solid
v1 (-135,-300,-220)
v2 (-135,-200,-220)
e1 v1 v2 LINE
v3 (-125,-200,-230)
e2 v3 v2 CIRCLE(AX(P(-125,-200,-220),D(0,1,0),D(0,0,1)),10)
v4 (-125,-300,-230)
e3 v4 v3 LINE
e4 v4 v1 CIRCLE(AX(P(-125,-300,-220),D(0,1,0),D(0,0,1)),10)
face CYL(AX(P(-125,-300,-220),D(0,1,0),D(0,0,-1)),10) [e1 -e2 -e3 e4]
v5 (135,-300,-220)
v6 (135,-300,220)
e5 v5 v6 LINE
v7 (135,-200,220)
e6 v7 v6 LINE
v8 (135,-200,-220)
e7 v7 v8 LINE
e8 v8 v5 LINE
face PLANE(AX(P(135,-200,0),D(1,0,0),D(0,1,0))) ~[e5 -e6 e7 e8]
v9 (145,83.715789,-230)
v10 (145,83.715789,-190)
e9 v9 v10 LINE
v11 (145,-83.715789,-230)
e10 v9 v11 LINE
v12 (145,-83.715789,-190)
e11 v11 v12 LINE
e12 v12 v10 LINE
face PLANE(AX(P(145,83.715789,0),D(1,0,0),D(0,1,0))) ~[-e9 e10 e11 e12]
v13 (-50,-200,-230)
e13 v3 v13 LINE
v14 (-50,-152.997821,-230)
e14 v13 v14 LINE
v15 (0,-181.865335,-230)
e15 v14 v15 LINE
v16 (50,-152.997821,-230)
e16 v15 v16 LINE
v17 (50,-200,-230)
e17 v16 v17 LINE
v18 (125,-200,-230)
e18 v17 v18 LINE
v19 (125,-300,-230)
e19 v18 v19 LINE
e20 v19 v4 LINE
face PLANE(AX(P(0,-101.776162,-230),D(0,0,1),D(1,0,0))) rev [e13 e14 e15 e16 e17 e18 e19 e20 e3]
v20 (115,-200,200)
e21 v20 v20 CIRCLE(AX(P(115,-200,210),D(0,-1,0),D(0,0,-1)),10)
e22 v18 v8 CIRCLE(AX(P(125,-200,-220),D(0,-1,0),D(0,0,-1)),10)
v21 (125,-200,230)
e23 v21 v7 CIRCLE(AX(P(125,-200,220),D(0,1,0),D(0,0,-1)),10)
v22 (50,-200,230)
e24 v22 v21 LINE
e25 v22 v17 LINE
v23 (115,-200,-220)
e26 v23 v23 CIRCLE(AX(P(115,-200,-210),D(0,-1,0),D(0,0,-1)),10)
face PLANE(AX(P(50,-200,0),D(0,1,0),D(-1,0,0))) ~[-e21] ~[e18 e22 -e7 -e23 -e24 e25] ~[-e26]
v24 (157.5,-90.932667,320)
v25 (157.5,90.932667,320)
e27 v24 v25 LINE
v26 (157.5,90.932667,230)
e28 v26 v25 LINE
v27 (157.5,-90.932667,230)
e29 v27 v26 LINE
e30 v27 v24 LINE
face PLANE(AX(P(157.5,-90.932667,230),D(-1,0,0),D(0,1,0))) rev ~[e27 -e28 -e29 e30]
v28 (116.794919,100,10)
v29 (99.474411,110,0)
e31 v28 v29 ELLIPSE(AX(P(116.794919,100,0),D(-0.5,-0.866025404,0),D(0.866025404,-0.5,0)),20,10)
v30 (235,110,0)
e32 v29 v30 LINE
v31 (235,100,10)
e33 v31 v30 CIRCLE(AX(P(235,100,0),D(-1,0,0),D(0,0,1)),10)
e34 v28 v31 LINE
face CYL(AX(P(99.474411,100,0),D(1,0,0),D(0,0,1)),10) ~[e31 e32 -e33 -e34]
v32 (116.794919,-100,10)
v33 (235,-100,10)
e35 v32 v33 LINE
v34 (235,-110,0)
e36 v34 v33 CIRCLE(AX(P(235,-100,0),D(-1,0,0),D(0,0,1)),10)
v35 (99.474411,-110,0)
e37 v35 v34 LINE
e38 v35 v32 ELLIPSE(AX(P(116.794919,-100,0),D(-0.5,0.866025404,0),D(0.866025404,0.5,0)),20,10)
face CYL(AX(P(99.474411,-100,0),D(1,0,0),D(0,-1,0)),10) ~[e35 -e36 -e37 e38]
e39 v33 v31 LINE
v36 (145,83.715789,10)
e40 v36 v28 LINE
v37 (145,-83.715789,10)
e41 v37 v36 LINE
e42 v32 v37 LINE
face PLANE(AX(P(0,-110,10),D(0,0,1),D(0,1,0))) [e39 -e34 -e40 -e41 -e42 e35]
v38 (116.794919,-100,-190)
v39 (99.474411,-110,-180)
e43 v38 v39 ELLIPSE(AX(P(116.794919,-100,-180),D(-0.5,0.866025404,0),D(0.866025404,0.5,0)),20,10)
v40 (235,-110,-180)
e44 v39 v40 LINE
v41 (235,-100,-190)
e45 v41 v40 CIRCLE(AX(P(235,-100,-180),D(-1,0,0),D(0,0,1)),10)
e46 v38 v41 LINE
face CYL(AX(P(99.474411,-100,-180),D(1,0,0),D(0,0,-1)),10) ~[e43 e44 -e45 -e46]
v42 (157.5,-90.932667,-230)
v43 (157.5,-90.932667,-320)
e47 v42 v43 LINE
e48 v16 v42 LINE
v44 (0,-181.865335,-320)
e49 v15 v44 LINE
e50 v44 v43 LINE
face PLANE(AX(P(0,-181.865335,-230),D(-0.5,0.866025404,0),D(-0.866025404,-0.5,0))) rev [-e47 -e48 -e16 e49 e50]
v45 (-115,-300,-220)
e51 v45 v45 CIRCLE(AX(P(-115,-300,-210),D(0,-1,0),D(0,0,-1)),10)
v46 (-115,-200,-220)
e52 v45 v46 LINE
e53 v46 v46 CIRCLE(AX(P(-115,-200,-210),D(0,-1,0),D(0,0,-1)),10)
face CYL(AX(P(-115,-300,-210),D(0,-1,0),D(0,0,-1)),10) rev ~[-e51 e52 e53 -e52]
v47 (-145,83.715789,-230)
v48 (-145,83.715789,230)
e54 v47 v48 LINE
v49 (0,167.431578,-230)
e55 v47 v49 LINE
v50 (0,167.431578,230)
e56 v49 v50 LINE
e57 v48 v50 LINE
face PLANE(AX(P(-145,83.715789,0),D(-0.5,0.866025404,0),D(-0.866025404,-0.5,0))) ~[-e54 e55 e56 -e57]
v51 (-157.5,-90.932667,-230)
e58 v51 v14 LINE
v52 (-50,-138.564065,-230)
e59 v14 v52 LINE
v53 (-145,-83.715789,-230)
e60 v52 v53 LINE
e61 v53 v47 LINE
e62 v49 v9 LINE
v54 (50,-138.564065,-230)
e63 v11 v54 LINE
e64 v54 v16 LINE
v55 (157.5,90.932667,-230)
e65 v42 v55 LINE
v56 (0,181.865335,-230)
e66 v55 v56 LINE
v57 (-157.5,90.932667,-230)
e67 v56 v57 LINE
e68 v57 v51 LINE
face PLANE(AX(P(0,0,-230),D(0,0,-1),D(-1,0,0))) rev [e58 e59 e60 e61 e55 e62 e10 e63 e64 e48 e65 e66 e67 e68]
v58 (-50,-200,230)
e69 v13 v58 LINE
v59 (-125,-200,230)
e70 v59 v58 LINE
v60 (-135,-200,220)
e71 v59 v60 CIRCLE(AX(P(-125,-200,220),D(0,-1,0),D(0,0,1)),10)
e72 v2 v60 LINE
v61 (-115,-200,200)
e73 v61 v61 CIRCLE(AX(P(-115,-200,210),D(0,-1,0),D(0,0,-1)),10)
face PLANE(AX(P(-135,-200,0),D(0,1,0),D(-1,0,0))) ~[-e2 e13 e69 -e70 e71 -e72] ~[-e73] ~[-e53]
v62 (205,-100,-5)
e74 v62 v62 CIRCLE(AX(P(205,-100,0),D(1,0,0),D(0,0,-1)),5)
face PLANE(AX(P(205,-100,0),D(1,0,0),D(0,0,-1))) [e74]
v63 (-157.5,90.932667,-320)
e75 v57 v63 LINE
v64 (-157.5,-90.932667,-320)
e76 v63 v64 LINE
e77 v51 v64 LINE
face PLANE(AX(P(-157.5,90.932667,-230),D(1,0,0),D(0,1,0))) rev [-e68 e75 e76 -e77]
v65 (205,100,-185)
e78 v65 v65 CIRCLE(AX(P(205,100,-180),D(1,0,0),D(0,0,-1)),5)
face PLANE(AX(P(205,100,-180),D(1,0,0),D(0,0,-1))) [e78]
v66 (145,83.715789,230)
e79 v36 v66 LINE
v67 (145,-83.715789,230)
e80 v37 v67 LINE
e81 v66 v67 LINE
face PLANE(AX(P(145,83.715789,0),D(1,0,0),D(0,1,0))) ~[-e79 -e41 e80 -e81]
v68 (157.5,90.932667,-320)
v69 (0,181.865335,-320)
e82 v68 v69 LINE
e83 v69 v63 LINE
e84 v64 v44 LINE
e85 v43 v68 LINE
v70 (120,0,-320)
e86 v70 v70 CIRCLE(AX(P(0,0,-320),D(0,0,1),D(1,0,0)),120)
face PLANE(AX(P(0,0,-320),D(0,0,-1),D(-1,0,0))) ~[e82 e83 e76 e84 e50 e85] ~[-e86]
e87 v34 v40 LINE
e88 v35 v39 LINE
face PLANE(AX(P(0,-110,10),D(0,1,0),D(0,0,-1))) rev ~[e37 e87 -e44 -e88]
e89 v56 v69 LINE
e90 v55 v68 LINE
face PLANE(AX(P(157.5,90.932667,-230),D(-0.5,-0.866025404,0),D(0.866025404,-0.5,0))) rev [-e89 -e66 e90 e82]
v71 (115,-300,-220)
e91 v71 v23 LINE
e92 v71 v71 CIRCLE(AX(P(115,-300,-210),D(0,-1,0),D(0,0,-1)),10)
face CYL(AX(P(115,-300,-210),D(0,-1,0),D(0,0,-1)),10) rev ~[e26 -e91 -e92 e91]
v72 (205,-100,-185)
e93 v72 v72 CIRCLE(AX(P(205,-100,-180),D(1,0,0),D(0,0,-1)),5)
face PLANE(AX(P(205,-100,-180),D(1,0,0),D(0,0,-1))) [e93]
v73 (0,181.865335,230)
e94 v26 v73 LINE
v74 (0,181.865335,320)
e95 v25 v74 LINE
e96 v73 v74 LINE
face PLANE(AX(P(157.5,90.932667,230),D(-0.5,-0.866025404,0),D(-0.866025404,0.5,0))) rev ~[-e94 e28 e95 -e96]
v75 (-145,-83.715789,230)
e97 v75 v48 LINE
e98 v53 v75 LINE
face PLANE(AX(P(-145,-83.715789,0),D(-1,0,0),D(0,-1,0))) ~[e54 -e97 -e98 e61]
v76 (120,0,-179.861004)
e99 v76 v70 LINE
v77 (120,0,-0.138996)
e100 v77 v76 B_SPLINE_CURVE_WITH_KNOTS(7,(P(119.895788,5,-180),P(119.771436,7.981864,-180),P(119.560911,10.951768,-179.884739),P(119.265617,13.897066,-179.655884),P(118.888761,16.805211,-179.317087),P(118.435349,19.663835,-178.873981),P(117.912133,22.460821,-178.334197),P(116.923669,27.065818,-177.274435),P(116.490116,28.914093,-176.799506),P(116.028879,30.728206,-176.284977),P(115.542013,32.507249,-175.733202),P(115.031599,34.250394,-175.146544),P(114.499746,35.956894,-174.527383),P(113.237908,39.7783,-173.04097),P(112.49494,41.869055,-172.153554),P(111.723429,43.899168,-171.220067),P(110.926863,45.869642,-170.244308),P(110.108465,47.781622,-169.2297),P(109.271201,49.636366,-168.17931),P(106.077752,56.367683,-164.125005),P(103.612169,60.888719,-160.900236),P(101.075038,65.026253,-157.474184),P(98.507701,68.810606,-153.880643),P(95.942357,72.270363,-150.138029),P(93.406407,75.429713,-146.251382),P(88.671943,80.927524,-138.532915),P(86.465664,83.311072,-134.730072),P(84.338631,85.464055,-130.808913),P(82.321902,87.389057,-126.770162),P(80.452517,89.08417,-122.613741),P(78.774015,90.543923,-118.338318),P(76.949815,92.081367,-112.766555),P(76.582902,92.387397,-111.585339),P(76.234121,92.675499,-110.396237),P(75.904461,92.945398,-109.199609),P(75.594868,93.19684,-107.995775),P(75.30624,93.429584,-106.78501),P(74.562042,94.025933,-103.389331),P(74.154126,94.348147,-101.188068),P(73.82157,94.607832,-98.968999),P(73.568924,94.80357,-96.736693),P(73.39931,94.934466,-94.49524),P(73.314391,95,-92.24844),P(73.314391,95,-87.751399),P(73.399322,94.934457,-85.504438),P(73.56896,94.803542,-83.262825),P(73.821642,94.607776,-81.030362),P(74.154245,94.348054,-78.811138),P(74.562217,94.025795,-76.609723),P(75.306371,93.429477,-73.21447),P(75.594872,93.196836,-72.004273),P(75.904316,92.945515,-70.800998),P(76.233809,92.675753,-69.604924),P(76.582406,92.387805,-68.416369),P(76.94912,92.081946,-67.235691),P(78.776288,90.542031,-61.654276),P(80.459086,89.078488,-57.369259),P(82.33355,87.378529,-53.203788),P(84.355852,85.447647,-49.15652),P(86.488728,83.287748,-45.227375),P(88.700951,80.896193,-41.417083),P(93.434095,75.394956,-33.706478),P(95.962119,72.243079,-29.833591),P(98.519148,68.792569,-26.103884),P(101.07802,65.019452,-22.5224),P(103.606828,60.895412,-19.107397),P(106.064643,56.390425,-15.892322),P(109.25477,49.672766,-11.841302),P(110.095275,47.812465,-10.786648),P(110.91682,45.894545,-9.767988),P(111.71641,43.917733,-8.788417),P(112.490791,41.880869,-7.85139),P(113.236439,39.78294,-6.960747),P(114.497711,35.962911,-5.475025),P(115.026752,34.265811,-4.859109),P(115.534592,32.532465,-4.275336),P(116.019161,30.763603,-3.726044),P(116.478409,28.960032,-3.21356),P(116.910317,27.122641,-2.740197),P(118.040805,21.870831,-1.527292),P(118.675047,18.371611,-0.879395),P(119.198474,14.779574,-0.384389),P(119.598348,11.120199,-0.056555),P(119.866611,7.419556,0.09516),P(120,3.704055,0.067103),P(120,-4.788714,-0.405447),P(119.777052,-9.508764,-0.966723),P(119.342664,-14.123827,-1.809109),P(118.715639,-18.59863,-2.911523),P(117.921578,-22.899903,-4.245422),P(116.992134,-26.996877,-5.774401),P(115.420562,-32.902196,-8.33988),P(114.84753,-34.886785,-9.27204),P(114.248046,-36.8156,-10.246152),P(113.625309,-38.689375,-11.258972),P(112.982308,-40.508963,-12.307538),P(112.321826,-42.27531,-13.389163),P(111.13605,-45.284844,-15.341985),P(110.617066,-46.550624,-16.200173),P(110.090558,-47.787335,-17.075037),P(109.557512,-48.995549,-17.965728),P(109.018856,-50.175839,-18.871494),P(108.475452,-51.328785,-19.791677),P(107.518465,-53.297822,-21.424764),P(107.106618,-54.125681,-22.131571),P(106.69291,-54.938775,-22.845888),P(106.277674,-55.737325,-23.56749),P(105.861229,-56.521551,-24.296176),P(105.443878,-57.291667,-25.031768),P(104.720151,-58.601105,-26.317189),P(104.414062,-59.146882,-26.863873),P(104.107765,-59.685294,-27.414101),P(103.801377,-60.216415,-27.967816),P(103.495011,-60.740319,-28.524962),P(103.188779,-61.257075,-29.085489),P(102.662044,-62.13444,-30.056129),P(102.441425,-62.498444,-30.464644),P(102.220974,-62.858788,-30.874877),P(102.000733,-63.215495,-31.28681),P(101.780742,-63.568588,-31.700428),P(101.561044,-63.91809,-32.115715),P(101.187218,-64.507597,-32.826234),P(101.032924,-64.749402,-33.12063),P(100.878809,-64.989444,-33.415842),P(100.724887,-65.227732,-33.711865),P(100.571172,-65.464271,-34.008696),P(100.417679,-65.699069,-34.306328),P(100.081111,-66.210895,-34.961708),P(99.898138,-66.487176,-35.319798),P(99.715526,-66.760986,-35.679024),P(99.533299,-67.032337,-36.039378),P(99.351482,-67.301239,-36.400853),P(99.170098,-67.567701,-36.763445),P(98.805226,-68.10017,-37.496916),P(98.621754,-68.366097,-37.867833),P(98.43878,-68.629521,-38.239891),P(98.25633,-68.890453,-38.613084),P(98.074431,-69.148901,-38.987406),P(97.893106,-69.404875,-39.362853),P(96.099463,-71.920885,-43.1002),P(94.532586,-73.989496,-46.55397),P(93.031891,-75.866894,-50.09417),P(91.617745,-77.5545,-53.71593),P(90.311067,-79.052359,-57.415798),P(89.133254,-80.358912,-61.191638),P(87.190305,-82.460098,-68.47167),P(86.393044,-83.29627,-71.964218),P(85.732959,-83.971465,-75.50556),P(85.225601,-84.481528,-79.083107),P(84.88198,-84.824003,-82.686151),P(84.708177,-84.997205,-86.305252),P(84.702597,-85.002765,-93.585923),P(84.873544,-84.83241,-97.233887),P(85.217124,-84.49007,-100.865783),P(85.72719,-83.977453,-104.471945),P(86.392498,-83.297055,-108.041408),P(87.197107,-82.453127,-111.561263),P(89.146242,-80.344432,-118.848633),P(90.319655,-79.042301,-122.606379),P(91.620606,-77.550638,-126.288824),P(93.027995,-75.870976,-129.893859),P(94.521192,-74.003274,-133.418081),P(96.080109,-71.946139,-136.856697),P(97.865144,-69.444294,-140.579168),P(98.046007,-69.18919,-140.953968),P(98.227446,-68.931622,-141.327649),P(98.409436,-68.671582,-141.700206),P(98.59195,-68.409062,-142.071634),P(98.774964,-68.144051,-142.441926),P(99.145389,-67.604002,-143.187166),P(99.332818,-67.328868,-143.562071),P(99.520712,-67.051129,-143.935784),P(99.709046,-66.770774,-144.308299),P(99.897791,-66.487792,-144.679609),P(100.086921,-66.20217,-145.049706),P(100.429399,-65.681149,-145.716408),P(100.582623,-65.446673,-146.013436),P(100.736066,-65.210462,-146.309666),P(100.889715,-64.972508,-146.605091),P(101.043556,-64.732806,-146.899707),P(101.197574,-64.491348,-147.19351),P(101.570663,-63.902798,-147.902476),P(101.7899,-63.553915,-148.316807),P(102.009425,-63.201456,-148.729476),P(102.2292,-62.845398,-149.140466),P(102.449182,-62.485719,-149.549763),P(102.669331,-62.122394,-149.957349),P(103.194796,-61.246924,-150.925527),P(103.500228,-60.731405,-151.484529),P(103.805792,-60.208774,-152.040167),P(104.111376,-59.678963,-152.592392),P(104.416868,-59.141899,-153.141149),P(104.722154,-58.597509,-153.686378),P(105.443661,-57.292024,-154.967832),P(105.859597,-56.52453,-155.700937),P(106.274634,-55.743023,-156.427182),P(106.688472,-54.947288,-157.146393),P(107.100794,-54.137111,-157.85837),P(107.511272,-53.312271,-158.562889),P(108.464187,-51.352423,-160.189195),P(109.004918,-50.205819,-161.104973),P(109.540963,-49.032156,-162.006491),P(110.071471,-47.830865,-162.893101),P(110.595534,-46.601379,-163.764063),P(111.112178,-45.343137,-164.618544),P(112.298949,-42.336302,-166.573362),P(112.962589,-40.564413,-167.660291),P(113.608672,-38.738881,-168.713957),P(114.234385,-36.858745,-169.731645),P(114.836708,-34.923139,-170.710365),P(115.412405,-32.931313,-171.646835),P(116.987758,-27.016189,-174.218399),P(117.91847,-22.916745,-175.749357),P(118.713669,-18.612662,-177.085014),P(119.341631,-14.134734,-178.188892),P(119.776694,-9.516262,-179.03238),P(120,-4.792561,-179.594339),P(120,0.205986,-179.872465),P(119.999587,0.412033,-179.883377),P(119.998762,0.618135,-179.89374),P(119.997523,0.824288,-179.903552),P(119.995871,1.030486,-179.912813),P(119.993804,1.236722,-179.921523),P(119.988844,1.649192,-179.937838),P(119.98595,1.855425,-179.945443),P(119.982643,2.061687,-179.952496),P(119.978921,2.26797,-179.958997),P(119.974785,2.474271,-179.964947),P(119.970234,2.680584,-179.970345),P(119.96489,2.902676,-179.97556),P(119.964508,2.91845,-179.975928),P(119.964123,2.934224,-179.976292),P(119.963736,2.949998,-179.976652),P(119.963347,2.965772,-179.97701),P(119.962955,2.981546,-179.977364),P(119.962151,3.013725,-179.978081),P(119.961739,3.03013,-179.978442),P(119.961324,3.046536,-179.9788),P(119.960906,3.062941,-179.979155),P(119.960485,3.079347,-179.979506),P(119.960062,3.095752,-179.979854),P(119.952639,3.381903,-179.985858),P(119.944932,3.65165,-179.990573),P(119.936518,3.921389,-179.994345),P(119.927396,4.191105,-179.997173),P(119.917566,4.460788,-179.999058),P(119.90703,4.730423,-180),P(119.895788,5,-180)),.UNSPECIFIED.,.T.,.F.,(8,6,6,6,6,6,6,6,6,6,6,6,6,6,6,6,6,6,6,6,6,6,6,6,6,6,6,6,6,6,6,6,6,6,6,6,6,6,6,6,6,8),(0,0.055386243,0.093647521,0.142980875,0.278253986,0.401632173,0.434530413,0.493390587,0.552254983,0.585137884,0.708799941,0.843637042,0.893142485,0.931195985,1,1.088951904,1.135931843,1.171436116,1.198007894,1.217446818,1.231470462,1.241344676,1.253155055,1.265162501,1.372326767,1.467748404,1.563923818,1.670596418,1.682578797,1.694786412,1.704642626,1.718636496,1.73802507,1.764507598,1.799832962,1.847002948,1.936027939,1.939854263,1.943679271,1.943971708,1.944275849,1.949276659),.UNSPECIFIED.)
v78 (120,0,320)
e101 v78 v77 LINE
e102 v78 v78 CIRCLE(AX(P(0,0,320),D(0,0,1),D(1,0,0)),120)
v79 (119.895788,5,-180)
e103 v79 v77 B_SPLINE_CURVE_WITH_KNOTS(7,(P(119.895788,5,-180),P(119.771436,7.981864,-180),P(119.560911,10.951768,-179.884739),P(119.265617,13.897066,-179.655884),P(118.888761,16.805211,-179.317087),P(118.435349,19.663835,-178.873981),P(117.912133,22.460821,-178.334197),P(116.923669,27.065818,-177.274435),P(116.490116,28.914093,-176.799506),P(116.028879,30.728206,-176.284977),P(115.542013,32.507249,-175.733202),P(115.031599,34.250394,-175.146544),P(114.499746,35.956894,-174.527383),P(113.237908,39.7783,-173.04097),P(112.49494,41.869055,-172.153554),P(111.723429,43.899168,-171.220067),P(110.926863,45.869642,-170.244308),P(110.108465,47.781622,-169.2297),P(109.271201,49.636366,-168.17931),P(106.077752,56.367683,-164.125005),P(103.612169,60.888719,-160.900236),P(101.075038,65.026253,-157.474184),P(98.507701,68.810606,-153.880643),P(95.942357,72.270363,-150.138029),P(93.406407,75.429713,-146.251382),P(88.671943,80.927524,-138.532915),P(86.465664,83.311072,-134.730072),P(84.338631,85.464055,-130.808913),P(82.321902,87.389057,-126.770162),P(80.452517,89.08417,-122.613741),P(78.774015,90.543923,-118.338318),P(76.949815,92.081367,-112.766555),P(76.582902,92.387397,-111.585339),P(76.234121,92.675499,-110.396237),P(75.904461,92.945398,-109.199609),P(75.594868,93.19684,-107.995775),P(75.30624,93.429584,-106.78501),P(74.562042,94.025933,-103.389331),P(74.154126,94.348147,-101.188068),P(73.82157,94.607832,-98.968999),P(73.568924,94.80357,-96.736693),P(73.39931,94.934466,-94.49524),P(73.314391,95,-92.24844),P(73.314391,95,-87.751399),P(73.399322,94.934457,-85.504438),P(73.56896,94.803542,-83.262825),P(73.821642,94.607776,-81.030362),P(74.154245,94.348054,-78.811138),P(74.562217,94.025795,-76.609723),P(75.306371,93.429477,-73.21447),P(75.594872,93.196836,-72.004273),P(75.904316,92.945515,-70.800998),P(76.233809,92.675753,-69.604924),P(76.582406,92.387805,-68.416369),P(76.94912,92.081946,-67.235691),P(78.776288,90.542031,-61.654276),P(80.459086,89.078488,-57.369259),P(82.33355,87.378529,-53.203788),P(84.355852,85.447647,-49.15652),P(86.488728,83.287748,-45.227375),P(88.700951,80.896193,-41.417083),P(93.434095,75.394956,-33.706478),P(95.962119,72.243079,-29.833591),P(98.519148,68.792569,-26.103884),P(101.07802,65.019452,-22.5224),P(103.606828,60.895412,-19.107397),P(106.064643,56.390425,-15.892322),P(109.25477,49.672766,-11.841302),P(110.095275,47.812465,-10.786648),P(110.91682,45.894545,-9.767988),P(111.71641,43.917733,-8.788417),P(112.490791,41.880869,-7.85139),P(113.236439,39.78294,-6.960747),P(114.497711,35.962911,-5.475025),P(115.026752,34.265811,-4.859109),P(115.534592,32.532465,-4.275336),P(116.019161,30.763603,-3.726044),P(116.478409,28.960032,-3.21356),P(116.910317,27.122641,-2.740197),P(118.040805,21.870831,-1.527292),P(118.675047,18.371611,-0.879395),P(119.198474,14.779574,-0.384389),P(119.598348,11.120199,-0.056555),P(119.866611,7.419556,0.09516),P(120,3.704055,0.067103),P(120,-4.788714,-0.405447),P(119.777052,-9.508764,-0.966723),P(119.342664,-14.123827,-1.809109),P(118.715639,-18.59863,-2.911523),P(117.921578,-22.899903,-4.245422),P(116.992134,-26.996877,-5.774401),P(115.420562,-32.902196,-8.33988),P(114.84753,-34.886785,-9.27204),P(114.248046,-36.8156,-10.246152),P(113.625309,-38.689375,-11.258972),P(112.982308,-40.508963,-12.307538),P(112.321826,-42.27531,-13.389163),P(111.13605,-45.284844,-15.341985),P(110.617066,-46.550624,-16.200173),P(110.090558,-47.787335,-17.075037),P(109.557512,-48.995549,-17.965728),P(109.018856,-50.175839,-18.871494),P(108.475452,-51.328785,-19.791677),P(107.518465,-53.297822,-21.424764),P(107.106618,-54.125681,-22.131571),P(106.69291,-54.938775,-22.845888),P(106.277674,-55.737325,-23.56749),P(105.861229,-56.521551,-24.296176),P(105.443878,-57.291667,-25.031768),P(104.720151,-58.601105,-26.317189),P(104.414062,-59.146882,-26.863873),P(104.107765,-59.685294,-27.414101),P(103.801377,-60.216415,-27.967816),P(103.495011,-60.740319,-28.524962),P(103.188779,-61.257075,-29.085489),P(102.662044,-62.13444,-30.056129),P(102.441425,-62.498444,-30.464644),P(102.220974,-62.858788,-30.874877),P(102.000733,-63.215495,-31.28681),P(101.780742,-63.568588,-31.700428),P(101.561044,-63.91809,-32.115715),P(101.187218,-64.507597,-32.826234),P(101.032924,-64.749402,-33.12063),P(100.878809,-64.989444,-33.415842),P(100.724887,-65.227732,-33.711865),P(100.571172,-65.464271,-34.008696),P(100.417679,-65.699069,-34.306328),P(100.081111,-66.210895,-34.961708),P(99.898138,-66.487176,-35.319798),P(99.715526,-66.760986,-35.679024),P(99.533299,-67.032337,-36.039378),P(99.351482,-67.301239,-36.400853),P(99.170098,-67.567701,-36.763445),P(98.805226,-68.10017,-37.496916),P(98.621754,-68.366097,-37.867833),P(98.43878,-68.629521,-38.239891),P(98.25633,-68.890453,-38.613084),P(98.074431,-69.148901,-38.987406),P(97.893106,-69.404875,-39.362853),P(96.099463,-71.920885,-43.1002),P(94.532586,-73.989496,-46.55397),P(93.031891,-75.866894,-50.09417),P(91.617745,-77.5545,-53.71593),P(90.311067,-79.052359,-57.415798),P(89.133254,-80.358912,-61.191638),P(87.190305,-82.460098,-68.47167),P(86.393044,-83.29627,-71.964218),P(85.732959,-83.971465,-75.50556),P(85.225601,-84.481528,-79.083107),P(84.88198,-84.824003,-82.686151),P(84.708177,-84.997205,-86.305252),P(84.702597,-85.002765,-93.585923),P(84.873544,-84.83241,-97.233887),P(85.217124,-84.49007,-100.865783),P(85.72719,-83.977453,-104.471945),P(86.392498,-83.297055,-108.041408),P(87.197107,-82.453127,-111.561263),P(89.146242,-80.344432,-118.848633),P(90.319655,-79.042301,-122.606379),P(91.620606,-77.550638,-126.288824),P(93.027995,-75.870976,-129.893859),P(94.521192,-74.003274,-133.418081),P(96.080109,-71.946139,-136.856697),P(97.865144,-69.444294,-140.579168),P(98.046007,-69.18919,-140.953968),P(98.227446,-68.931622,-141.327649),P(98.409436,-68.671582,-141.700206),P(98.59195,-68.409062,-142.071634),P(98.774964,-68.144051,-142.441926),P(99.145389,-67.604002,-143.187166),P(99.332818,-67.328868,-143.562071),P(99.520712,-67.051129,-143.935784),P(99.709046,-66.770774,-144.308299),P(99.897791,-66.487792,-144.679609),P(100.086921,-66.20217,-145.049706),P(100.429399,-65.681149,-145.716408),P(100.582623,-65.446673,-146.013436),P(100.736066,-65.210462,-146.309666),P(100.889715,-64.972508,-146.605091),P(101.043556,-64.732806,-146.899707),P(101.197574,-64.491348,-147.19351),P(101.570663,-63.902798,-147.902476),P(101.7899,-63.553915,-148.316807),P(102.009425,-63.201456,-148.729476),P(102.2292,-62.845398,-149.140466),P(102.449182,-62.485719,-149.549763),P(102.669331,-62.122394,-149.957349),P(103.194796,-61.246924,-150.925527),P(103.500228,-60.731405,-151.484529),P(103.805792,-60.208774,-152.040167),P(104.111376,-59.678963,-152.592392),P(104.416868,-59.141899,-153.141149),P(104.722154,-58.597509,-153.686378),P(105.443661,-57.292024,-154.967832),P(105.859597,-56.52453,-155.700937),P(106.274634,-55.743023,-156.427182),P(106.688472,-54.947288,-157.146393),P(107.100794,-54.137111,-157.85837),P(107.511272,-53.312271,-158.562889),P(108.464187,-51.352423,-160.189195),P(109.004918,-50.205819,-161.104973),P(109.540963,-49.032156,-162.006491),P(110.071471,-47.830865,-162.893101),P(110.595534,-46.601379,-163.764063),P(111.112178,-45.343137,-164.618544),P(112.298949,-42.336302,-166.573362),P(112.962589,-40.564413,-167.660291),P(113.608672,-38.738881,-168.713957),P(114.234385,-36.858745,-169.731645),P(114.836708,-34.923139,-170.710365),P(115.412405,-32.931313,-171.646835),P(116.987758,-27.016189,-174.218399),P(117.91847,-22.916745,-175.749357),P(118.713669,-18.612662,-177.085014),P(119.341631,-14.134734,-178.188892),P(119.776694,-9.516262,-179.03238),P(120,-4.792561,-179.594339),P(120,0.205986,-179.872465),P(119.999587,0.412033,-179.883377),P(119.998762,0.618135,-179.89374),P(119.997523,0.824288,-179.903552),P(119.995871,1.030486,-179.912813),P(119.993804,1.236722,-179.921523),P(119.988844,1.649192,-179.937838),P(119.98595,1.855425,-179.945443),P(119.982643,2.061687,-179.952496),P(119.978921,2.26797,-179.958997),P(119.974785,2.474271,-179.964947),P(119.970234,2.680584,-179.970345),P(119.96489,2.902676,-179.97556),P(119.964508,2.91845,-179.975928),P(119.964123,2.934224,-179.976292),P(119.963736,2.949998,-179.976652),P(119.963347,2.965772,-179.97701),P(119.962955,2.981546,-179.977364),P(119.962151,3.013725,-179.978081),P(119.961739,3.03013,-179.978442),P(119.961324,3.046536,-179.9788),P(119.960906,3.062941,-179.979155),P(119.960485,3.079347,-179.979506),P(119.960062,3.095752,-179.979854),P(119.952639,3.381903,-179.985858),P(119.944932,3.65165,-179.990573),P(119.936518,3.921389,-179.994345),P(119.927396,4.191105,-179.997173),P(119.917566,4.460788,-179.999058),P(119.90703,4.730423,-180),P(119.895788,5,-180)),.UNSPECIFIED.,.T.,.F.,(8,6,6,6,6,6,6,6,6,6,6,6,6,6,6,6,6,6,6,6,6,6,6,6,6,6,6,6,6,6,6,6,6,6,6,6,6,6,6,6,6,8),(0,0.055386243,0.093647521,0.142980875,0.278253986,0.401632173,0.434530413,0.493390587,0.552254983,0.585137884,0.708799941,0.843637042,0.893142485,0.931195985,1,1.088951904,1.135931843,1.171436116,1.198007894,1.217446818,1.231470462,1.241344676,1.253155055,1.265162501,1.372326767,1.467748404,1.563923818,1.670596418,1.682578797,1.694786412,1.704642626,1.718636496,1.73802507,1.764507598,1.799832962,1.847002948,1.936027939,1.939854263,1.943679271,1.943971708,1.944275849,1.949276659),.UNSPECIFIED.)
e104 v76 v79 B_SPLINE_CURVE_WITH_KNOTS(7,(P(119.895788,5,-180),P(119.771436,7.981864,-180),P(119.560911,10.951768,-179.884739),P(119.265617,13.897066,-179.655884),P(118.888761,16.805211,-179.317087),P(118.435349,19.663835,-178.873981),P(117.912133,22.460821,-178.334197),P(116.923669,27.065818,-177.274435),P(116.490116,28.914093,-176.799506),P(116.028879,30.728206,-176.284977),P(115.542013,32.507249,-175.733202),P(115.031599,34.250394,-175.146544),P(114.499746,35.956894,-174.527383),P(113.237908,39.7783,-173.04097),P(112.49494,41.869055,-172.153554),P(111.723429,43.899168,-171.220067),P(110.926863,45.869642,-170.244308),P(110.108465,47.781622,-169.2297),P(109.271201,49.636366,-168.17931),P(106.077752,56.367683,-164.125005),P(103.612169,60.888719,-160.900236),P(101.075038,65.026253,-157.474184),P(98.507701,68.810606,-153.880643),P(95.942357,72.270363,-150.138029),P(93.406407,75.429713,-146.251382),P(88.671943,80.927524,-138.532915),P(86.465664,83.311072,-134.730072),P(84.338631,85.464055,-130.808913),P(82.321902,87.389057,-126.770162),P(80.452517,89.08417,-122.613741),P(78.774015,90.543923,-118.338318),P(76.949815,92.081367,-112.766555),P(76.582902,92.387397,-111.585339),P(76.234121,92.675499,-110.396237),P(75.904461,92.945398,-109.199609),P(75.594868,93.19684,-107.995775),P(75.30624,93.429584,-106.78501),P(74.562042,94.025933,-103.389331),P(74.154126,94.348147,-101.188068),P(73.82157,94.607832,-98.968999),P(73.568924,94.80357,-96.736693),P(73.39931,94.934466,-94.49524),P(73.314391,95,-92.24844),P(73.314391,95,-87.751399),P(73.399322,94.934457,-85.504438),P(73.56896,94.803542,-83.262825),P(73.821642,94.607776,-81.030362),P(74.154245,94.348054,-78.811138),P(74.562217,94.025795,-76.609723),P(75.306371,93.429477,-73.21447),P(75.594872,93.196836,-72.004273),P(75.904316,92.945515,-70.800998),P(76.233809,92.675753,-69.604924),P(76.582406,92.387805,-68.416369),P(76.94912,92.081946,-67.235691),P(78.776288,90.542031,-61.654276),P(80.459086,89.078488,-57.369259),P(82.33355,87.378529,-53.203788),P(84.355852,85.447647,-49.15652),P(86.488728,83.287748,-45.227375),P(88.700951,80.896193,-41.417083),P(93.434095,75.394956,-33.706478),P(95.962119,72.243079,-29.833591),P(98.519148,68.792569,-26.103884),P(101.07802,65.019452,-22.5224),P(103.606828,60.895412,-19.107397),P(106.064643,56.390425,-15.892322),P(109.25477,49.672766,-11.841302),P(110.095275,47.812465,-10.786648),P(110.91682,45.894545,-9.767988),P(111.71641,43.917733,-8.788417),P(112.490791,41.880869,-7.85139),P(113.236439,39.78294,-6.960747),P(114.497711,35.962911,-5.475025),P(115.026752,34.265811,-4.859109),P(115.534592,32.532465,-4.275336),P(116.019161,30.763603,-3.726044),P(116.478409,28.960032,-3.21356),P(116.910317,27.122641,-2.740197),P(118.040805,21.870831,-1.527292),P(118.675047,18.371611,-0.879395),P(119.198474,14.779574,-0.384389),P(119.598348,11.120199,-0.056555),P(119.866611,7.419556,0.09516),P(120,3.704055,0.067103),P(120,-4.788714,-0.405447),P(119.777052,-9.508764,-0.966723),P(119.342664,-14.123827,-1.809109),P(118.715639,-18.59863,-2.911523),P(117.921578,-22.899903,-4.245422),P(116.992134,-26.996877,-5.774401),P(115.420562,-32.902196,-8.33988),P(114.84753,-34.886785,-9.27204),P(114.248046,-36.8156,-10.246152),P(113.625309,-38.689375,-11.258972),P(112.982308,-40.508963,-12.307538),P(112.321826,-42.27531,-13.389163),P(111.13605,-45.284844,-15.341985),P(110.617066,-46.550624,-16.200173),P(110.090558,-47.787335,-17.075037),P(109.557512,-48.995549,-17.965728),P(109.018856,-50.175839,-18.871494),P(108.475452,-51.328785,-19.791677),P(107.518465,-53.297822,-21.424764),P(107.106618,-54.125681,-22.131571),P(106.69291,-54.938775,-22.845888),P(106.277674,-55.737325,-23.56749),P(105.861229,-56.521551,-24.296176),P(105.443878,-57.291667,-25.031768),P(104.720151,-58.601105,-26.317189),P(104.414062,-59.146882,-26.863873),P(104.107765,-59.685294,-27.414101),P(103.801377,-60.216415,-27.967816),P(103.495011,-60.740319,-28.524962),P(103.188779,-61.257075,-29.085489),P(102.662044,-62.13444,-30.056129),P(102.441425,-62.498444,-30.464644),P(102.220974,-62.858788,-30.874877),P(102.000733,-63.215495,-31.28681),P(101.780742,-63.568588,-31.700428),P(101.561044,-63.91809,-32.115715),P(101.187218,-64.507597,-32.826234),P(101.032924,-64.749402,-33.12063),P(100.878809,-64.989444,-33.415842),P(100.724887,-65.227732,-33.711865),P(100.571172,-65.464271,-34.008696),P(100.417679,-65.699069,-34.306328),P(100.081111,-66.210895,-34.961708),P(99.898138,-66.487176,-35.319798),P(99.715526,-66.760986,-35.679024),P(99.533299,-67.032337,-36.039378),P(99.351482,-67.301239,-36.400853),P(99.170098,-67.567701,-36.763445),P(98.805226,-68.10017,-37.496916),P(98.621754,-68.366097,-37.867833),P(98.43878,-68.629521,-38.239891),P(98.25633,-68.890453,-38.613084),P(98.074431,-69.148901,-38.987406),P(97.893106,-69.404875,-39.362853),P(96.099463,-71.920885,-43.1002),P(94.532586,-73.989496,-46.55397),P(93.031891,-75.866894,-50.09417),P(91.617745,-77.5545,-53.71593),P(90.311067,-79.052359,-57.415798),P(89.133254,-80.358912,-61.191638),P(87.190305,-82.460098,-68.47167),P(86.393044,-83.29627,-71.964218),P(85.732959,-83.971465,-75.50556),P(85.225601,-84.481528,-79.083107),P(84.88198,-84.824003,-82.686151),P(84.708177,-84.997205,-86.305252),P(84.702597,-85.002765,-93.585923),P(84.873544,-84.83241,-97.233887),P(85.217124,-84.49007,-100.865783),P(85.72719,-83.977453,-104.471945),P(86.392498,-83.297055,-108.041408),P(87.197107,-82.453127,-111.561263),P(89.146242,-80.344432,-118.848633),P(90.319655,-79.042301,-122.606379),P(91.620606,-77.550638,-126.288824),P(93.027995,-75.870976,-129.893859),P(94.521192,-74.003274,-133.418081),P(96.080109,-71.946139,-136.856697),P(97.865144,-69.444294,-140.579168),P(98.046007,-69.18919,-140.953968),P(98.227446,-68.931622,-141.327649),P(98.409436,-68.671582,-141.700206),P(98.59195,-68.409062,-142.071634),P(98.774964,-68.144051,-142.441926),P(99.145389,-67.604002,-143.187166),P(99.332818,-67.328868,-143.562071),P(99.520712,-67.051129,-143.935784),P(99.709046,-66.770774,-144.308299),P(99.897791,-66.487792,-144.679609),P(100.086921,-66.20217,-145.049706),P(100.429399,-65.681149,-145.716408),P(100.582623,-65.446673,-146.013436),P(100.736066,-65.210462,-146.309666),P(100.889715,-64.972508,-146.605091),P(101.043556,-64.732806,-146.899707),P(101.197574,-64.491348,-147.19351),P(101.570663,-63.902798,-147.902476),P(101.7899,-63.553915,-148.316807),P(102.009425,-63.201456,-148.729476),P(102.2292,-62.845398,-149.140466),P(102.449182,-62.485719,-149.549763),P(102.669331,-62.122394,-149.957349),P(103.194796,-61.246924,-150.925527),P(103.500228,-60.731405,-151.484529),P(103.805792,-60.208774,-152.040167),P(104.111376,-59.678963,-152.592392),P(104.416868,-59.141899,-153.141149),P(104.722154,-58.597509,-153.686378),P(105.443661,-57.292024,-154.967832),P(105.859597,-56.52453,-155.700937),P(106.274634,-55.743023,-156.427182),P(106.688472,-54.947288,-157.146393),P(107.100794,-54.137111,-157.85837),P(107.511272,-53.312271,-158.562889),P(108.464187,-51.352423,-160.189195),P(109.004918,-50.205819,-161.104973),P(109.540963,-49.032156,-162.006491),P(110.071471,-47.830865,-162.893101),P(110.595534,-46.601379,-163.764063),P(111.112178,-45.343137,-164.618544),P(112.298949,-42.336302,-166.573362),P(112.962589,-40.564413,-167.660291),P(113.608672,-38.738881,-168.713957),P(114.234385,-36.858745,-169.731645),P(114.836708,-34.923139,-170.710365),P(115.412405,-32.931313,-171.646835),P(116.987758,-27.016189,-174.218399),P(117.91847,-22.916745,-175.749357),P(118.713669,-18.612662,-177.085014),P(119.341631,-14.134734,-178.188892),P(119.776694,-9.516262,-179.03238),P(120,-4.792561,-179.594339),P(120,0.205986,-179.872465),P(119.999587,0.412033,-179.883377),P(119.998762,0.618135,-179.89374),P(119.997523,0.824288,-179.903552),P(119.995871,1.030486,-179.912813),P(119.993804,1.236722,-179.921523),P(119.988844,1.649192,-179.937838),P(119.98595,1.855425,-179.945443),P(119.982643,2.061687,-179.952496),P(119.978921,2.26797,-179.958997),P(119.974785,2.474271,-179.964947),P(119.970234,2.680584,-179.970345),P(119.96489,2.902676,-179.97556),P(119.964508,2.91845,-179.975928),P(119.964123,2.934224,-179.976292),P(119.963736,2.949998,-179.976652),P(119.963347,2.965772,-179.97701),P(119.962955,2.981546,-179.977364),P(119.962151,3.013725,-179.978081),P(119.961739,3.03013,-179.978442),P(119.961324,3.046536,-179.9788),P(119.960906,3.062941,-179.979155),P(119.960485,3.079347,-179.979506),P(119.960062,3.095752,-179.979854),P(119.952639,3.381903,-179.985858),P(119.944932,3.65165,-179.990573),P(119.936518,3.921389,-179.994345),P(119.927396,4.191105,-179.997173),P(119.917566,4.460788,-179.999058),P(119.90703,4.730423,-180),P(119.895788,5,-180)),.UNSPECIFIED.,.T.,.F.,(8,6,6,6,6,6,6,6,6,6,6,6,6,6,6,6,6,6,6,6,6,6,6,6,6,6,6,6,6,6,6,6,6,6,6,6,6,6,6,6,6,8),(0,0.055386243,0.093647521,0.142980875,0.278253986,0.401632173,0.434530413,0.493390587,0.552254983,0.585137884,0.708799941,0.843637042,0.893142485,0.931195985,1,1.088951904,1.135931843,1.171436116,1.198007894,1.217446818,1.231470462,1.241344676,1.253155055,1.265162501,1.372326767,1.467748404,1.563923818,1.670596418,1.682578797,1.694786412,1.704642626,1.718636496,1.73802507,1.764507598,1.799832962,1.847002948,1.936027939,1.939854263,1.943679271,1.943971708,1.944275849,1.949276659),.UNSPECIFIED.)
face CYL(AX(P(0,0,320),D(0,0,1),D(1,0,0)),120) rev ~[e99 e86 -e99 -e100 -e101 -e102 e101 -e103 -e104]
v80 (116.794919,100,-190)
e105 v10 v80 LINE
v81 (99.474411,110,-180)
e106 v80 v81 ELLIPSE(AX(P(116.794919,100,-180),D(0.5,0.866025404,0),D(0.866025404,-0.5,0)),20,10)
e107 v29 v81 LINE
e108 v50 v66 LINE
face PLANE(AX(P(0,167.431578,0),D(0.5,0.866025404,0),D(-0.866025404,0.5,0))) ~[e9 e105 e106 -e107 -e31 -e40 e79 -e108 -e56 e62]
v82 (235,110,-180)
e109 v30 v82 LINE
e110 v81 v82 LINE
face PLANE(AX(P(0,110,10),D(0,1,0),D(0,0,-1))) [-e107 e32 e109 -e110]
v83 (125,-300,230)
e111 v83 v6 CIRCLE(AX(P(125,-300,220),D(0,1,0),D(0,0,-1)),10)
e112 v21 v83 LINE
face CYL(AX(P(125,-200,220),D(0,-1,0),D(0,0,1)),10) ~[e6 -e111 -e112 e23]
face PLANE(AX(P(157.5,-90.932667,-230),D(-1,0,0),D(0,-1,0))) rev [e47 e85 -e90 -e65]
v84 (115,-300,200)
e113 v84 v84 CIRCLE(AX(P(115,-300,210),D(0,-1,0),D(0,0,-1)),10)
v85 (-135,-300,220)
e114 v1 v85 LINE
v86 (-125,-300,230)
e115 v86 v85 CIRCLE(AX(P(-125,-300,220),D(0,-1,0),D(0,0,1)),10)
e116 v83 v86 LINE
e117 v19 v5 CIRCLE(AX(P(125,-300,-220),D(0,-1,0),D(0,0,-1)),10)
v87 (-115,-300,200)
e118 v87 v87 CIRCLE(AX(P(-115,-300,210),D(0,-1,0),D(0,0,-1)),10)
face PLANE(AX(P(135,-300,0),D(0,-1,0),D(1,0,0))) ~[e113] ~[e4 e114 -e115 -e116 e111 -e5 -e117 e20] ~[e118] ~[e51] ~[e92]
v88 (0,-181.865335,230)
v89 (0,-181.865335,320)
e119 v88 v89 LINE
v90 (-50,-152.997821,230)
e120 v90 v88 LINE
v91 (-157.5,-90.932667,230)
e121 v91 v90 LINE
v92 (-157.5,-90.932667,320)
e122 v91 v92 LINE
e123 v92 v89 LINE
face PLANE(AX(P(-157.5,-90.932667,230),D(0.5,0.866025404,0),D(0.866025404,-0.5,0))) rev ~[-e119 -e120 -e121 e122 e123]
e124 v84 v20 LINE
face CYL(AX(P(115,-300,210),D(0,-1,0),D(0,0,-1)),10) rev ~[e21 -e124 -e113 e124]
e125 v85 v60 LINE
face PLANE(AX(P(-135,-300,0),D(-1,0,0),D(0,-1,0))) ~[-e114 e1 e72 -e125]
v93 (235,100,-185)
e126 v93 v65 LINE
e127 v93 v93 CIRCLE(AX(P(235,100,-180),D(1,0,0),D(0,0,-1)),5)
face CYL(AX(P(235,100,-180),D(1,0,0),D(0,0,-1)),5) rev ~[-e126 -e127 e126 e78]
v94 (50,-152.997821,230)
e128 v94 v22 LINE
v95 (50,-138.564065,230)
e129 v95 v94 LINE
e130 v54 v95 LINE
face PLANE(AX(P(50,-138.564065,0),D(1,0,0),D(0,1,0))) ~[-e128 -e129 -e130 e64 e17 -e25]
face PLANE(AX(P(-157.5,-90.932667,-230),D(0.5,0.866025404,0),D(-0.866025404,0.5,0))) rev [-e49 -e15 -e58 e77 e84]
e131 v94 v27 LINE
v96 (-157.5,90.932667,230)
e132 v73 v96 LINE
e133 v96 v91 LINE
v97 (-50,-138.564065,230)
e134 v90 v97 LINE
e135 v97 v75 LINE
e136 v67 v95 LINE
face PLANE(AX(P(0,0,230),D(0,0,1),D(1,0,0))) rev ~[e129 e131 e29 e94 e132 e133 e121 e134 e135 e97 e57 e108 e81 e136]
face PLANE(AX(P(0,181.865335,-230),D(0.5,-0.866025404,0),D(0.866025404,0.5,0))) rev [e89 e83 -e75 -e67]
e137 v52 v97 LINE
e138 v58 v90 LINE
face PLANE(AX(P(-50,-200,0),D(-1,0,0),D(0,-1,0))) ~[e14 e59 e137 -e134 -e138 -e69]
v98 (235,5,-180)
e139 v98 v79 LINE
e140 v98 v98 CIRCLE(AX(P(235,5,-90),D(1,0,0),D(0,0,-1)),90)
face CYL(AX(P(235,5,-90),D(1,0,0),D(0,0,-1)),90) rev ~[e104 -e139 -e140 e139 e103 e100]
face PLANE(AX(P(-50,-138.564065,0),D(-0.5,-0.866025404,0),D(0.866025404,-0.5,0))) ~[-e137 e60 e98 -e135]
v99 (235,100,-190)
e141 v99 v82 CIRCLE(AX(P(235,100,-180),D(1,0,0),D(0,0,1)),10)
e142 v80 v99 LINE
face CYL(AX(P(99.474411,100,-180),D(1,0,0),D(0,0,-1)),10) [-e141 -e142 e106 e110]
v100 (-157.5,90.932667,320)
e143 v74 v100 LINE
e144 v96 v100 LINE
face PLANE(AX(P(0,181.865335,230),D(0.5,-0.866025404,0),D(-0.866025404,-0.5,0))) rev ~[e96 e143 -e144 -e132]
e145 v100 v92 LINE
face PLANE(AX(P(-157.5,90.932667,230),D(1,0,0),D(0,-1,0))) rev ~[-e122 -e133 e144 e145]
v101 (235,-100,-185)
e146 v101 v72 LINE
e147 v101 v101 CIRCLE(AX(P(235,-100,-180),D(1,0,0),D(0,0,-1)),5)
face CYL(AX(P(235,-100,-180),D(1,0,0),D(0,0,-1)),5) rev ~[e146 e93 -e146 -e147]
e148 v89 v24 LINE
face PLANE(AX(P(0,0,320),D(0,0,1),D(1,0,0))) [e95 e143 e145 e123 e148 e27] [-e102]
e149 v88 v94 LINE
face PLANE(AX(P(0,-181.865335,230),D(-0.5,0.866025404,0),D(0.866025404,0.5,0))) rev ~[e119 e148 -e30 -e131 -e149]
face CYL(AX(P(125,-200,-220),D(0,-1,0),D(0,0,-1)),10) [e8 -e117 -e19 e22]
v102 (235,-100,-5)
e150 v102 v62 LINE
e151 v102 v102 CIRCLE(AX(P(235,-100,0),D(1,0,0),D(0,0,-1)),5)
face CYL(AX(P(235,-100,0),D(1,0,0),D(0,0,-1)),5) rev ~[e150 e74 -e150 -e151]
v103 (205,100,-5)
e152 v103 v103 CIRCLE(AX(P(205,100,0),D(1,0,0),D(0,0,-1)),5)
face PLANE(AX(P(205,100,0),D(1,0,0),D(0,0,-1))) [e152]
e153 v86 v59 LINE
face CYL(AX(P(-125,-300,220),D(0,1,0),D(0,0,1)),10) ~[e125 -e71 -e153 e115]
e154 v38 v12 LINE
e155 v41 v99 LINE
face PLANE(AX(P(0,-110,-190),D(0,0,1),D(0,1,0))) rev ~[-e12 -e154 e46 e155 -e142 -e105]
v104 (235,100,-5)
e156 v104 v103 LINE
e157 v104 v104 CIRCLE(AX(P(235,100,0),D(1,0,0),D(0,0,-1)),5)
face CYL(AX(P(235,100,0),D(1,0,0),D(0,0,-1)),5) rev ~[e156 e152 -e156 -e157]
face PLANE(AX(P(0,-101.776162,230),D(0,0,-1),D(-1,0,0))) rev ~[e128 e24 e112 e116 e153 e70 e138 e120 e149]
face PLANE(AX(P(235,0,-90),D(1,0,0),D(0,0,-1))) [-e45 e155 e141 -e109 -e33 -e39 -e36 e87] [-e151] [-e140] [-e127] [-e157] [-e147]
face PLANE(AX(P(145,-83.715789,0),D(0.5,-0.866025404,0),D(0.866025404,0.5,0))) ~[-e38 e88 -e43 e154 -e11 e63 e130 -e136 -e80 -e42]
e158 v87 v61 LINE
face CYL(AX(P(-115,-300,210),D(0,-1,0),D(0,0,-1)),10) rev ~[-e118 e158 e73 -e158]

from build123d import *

# Parameters (mm, degrees)
EXTRUDE_1_DEPTH          = 230
EXTRUDE_2_DEPTH          = 90
EXTRUDE_3_DEPTH          = 90
EXTRUDE_3_DEPTH_BACK     = 145
SKETCH_5_W               = 200
SKETCH_5_H               = 220
SKETCH_4_R               = 120
CUT_EXTRUDE_1_DEPTH      = 745.865759718
CUT_EXTRUDE_2_REACH      = 590.605
CUT_EXTRUDE_2_END_RADIUS = 120
SKETCH_6_R               = 90
CUT_EXTRUDE_3_REACH      = 626.355
SKETCH_7_R               = 10
SKETCH_8_R               = 5
CUT_EXTRUDE_4_DEPTH      = 30
FILLET_1_R               = 10
FILLET_2_R               = 10


with BuildPart() as part:
    # Эскиз1 → Бобышка-Вытянуть1 (new body)
    with BuildSketch(Plane.XY):
        Polygon((-50, -200), (-50, -138.564064606), (-145, -83.715789032), (-145, 83.715789032), (0, 167.431578065), (145, 83.715789032), (145, -83.715789032), (50, -138.564064606), (50, -200), (135, -200), (135, -300), (-135, -300), (-135, -200), align=None)
    extrude(amount=EXTRUDE_1_DEPTH)

    # Эскиз2 → Бобышка-Вытянуть2 (add)
    with BuildSketch(Plane.XY.offset(230)):
        Polygon((0, 181.865334795), (-157.5, 90.932667397), (-157.5, -90.932667397), (0, -181.865334795), (157.5, -90.932667397), (157.5, 90.932667397), align=None)
    extrude(amount=EXTRUDE_2_DEPTH)

    # Зеркальное отражение1: part across plane


with BuildPart() as part_1:
    add(part.part)
    add(part.part.mirror(Plane.XY))

    # Эскиз5 → Бобышка-Вытянуть3 (add, two sides: drawn at the far end of the back side and taken through both)
    with BuildSketch(Plane(origin=(145, 0, 0), x_dir=(0, 0, -1), z_dir=(1, 0, 0)).offset(-EXTRUDE_3_DEPTH_BACK)):
        with Locations((90, 0)):
            Rectangle(SKETCH_5_W, SKETCH_5_H)
    extrude(amount=EXTRUDE_3_DEPTH + EXTRUDE_3_DEPTH_BACK)

    # Эскиз4 → Вырез-Вытянуть1 (cut, through all)
    with BuildSketch(Plane.XY.offset(320)):
        Circle(SKETCH_4_R)
    extrude(amount=-CUT_EXTRUDE_1_DEPTH, mode=Mode.SUBTRACT)

    # Вырез-Вытянуть2: up to this cylinder (the profile starts outside it)
    cut_extrude_2_end = Plane(origin=(0, 0, -90), z_dir=(0, 0, 1)) * Cylinder(CUT_EXTRUDE_2_END_RADIUS, 1422.21, mode=Mode.PRIVATE)
    # Эскиз6 → Вырез-Вытянуть2 (cut, up to the surface)
    with BuildSketch(Plane(origin=(235, 0, 0), x_dir=(0, 0, -1), z_dir=(1, 0, 0)), mode=Mode.PRIVATE) as cut_extrude_2_sk1:
        with Locations((90, 5)):
            Circle(SKETCH_6_R)
    cut_extrude_2_tool1 = extrude(cut_extrude_2_sk1.sketch, amount=-CUT_EXTRUDE_2_REACH, mode=Mode.PRIVATE) - cut_extrude_2_end
    add(cut_extrude_2_tool1.solids().sort_by_distance((235, 5, -90))[0], mode=Mode.SUBTRACT)

    # Эскиз7 → Вырез-Вытянуть3 (cut, up to next)
    with BuildSketch(Plane.XZ.offset(300), mode=Mode.PRIVATE) as cut_extrude_3_sk1:
        with Locations(Location((115, 210, 0), (0, 0, 270))):
            Circle(SKETCH_7_R)
    cut_extrude_3_tool1 = extrude(cut_extrude_3_sk1.sketch, amount=-CUT_EXTRUDE_3_REACH, mode=Mode.PRIVATE) & part_1.part
    # Эскиз7 → Вырез-Вытянуть3 (cut, up to next)
    with BuildSketch(Plane.XZ.offset(300), mode=Mode.PRIVATE) as cut_extrude_3_sk2:
        with Locations(Location((-115, 210, 0), (0, 0, 270))):
            Circle(SKETCH_7_R)
    cut_extrude_3_tool2 = extrude(cut_extrude_3_sk2.sketch, amount=-CUT_EXTRUDE_3_REACH, mode=Mode.PRIVATE) & part_1.part
    # Эскиз7 → Вырез-Вытянуть3 (cut, up to next)
    with BuildSketch(Plane.XZ.offset(300), mode=Mode.PRIVATE) as cut_extrude_3_sk3:
        with Locations(Location((115, -210, 0), (0, 0, 270))):
            Circle(SKETCH_7_R)
    cut_extrude_3_tool3 = extrude(cut_extrude_3_sk3.sketch, amount=-CUT_EXTRUDE_3_REACH, mode=Mode.PRIVATE) & part_1.part
    # Эскиз7 → Вырез-Вытянуть3 (cut, up to next)
    with BuildSketch(Plane.XZ.offset(300), mode=Mode.PRIVATE) as cut_extrude_3_sk4:
        with Locations(Location((-115, -210, 0), (0, 0, 270))):
            Circle(SKETCH_7_R)
    cut_extrude_3_tool4 = extrude(cut_extrude_3_sk4.sketch, amount=-CUT_EXTRUDE_3_REACH, mode=Mode.PRIVATE) & part_1.part
    add(cut_extrude_3_tool1.solids().sort_by_distance((115, -300, 210))[0], mode=Mode.SUBTRACT)
    add(cut_extrude_3_tool2.solids().sort_by_distance((-115, -300, 210))[0], mode=Mode.SUBTRACT)
    add(cut_extrude_3_tool3.solids().sort_by_distance((115, -300, -210))[0], mode=Mode.SUBTRACT)
    add(cut_extrude_3_tool4.solids().sort_by_distance((-115, -300, -210))[0], mode=Mode.SUBTRACT)

    # Эскиз8 → Вырез-Вытянуть4 (cut)
    with BuildSketch(Plane(origin=(235, 0, 0), x_dir=(0, 0, -1), z_dir=(1, 0, 0))):
        with Locations((0, 100)):
            Circle(SKETCH_8_R)
        with Locations((0, -100)):
            Circle(SKETCH_8_R)
        with Locations((180, 100)):
            Circle(SKETCH_8_R)
        with Locations((180, -100)):
            Circle(SKETCH_8_R)
    extrude(amount=-CUT_EXTRUDE_4_DEPTH, mode=Mode.SUBTRACT)

    # Скругление1
    fillet_1_edges = [part_1.edges().sort_by_distance(p)[0] for p in [
        (-135, -250, 230),
        (135, -250, 230),
        (-135, -250, -230),
        (135, -250, -230),
    ]]
    fillet(fillet_1_edges, radius=FILLET_1_R)

    # Скругление2
    fillet_2_edges = [part_1.edges().sort_by_distance(p)[0] for p in [
        (167.237205584, 110, 10),
        (167.237205584, -110, -190),
        (167.237205584, 110, -190),
        (167.237205584, -110, 10),
    ]]
    fillet(fillet_2_edges, radius=FILLET_2_R)


solid = part_1.part
